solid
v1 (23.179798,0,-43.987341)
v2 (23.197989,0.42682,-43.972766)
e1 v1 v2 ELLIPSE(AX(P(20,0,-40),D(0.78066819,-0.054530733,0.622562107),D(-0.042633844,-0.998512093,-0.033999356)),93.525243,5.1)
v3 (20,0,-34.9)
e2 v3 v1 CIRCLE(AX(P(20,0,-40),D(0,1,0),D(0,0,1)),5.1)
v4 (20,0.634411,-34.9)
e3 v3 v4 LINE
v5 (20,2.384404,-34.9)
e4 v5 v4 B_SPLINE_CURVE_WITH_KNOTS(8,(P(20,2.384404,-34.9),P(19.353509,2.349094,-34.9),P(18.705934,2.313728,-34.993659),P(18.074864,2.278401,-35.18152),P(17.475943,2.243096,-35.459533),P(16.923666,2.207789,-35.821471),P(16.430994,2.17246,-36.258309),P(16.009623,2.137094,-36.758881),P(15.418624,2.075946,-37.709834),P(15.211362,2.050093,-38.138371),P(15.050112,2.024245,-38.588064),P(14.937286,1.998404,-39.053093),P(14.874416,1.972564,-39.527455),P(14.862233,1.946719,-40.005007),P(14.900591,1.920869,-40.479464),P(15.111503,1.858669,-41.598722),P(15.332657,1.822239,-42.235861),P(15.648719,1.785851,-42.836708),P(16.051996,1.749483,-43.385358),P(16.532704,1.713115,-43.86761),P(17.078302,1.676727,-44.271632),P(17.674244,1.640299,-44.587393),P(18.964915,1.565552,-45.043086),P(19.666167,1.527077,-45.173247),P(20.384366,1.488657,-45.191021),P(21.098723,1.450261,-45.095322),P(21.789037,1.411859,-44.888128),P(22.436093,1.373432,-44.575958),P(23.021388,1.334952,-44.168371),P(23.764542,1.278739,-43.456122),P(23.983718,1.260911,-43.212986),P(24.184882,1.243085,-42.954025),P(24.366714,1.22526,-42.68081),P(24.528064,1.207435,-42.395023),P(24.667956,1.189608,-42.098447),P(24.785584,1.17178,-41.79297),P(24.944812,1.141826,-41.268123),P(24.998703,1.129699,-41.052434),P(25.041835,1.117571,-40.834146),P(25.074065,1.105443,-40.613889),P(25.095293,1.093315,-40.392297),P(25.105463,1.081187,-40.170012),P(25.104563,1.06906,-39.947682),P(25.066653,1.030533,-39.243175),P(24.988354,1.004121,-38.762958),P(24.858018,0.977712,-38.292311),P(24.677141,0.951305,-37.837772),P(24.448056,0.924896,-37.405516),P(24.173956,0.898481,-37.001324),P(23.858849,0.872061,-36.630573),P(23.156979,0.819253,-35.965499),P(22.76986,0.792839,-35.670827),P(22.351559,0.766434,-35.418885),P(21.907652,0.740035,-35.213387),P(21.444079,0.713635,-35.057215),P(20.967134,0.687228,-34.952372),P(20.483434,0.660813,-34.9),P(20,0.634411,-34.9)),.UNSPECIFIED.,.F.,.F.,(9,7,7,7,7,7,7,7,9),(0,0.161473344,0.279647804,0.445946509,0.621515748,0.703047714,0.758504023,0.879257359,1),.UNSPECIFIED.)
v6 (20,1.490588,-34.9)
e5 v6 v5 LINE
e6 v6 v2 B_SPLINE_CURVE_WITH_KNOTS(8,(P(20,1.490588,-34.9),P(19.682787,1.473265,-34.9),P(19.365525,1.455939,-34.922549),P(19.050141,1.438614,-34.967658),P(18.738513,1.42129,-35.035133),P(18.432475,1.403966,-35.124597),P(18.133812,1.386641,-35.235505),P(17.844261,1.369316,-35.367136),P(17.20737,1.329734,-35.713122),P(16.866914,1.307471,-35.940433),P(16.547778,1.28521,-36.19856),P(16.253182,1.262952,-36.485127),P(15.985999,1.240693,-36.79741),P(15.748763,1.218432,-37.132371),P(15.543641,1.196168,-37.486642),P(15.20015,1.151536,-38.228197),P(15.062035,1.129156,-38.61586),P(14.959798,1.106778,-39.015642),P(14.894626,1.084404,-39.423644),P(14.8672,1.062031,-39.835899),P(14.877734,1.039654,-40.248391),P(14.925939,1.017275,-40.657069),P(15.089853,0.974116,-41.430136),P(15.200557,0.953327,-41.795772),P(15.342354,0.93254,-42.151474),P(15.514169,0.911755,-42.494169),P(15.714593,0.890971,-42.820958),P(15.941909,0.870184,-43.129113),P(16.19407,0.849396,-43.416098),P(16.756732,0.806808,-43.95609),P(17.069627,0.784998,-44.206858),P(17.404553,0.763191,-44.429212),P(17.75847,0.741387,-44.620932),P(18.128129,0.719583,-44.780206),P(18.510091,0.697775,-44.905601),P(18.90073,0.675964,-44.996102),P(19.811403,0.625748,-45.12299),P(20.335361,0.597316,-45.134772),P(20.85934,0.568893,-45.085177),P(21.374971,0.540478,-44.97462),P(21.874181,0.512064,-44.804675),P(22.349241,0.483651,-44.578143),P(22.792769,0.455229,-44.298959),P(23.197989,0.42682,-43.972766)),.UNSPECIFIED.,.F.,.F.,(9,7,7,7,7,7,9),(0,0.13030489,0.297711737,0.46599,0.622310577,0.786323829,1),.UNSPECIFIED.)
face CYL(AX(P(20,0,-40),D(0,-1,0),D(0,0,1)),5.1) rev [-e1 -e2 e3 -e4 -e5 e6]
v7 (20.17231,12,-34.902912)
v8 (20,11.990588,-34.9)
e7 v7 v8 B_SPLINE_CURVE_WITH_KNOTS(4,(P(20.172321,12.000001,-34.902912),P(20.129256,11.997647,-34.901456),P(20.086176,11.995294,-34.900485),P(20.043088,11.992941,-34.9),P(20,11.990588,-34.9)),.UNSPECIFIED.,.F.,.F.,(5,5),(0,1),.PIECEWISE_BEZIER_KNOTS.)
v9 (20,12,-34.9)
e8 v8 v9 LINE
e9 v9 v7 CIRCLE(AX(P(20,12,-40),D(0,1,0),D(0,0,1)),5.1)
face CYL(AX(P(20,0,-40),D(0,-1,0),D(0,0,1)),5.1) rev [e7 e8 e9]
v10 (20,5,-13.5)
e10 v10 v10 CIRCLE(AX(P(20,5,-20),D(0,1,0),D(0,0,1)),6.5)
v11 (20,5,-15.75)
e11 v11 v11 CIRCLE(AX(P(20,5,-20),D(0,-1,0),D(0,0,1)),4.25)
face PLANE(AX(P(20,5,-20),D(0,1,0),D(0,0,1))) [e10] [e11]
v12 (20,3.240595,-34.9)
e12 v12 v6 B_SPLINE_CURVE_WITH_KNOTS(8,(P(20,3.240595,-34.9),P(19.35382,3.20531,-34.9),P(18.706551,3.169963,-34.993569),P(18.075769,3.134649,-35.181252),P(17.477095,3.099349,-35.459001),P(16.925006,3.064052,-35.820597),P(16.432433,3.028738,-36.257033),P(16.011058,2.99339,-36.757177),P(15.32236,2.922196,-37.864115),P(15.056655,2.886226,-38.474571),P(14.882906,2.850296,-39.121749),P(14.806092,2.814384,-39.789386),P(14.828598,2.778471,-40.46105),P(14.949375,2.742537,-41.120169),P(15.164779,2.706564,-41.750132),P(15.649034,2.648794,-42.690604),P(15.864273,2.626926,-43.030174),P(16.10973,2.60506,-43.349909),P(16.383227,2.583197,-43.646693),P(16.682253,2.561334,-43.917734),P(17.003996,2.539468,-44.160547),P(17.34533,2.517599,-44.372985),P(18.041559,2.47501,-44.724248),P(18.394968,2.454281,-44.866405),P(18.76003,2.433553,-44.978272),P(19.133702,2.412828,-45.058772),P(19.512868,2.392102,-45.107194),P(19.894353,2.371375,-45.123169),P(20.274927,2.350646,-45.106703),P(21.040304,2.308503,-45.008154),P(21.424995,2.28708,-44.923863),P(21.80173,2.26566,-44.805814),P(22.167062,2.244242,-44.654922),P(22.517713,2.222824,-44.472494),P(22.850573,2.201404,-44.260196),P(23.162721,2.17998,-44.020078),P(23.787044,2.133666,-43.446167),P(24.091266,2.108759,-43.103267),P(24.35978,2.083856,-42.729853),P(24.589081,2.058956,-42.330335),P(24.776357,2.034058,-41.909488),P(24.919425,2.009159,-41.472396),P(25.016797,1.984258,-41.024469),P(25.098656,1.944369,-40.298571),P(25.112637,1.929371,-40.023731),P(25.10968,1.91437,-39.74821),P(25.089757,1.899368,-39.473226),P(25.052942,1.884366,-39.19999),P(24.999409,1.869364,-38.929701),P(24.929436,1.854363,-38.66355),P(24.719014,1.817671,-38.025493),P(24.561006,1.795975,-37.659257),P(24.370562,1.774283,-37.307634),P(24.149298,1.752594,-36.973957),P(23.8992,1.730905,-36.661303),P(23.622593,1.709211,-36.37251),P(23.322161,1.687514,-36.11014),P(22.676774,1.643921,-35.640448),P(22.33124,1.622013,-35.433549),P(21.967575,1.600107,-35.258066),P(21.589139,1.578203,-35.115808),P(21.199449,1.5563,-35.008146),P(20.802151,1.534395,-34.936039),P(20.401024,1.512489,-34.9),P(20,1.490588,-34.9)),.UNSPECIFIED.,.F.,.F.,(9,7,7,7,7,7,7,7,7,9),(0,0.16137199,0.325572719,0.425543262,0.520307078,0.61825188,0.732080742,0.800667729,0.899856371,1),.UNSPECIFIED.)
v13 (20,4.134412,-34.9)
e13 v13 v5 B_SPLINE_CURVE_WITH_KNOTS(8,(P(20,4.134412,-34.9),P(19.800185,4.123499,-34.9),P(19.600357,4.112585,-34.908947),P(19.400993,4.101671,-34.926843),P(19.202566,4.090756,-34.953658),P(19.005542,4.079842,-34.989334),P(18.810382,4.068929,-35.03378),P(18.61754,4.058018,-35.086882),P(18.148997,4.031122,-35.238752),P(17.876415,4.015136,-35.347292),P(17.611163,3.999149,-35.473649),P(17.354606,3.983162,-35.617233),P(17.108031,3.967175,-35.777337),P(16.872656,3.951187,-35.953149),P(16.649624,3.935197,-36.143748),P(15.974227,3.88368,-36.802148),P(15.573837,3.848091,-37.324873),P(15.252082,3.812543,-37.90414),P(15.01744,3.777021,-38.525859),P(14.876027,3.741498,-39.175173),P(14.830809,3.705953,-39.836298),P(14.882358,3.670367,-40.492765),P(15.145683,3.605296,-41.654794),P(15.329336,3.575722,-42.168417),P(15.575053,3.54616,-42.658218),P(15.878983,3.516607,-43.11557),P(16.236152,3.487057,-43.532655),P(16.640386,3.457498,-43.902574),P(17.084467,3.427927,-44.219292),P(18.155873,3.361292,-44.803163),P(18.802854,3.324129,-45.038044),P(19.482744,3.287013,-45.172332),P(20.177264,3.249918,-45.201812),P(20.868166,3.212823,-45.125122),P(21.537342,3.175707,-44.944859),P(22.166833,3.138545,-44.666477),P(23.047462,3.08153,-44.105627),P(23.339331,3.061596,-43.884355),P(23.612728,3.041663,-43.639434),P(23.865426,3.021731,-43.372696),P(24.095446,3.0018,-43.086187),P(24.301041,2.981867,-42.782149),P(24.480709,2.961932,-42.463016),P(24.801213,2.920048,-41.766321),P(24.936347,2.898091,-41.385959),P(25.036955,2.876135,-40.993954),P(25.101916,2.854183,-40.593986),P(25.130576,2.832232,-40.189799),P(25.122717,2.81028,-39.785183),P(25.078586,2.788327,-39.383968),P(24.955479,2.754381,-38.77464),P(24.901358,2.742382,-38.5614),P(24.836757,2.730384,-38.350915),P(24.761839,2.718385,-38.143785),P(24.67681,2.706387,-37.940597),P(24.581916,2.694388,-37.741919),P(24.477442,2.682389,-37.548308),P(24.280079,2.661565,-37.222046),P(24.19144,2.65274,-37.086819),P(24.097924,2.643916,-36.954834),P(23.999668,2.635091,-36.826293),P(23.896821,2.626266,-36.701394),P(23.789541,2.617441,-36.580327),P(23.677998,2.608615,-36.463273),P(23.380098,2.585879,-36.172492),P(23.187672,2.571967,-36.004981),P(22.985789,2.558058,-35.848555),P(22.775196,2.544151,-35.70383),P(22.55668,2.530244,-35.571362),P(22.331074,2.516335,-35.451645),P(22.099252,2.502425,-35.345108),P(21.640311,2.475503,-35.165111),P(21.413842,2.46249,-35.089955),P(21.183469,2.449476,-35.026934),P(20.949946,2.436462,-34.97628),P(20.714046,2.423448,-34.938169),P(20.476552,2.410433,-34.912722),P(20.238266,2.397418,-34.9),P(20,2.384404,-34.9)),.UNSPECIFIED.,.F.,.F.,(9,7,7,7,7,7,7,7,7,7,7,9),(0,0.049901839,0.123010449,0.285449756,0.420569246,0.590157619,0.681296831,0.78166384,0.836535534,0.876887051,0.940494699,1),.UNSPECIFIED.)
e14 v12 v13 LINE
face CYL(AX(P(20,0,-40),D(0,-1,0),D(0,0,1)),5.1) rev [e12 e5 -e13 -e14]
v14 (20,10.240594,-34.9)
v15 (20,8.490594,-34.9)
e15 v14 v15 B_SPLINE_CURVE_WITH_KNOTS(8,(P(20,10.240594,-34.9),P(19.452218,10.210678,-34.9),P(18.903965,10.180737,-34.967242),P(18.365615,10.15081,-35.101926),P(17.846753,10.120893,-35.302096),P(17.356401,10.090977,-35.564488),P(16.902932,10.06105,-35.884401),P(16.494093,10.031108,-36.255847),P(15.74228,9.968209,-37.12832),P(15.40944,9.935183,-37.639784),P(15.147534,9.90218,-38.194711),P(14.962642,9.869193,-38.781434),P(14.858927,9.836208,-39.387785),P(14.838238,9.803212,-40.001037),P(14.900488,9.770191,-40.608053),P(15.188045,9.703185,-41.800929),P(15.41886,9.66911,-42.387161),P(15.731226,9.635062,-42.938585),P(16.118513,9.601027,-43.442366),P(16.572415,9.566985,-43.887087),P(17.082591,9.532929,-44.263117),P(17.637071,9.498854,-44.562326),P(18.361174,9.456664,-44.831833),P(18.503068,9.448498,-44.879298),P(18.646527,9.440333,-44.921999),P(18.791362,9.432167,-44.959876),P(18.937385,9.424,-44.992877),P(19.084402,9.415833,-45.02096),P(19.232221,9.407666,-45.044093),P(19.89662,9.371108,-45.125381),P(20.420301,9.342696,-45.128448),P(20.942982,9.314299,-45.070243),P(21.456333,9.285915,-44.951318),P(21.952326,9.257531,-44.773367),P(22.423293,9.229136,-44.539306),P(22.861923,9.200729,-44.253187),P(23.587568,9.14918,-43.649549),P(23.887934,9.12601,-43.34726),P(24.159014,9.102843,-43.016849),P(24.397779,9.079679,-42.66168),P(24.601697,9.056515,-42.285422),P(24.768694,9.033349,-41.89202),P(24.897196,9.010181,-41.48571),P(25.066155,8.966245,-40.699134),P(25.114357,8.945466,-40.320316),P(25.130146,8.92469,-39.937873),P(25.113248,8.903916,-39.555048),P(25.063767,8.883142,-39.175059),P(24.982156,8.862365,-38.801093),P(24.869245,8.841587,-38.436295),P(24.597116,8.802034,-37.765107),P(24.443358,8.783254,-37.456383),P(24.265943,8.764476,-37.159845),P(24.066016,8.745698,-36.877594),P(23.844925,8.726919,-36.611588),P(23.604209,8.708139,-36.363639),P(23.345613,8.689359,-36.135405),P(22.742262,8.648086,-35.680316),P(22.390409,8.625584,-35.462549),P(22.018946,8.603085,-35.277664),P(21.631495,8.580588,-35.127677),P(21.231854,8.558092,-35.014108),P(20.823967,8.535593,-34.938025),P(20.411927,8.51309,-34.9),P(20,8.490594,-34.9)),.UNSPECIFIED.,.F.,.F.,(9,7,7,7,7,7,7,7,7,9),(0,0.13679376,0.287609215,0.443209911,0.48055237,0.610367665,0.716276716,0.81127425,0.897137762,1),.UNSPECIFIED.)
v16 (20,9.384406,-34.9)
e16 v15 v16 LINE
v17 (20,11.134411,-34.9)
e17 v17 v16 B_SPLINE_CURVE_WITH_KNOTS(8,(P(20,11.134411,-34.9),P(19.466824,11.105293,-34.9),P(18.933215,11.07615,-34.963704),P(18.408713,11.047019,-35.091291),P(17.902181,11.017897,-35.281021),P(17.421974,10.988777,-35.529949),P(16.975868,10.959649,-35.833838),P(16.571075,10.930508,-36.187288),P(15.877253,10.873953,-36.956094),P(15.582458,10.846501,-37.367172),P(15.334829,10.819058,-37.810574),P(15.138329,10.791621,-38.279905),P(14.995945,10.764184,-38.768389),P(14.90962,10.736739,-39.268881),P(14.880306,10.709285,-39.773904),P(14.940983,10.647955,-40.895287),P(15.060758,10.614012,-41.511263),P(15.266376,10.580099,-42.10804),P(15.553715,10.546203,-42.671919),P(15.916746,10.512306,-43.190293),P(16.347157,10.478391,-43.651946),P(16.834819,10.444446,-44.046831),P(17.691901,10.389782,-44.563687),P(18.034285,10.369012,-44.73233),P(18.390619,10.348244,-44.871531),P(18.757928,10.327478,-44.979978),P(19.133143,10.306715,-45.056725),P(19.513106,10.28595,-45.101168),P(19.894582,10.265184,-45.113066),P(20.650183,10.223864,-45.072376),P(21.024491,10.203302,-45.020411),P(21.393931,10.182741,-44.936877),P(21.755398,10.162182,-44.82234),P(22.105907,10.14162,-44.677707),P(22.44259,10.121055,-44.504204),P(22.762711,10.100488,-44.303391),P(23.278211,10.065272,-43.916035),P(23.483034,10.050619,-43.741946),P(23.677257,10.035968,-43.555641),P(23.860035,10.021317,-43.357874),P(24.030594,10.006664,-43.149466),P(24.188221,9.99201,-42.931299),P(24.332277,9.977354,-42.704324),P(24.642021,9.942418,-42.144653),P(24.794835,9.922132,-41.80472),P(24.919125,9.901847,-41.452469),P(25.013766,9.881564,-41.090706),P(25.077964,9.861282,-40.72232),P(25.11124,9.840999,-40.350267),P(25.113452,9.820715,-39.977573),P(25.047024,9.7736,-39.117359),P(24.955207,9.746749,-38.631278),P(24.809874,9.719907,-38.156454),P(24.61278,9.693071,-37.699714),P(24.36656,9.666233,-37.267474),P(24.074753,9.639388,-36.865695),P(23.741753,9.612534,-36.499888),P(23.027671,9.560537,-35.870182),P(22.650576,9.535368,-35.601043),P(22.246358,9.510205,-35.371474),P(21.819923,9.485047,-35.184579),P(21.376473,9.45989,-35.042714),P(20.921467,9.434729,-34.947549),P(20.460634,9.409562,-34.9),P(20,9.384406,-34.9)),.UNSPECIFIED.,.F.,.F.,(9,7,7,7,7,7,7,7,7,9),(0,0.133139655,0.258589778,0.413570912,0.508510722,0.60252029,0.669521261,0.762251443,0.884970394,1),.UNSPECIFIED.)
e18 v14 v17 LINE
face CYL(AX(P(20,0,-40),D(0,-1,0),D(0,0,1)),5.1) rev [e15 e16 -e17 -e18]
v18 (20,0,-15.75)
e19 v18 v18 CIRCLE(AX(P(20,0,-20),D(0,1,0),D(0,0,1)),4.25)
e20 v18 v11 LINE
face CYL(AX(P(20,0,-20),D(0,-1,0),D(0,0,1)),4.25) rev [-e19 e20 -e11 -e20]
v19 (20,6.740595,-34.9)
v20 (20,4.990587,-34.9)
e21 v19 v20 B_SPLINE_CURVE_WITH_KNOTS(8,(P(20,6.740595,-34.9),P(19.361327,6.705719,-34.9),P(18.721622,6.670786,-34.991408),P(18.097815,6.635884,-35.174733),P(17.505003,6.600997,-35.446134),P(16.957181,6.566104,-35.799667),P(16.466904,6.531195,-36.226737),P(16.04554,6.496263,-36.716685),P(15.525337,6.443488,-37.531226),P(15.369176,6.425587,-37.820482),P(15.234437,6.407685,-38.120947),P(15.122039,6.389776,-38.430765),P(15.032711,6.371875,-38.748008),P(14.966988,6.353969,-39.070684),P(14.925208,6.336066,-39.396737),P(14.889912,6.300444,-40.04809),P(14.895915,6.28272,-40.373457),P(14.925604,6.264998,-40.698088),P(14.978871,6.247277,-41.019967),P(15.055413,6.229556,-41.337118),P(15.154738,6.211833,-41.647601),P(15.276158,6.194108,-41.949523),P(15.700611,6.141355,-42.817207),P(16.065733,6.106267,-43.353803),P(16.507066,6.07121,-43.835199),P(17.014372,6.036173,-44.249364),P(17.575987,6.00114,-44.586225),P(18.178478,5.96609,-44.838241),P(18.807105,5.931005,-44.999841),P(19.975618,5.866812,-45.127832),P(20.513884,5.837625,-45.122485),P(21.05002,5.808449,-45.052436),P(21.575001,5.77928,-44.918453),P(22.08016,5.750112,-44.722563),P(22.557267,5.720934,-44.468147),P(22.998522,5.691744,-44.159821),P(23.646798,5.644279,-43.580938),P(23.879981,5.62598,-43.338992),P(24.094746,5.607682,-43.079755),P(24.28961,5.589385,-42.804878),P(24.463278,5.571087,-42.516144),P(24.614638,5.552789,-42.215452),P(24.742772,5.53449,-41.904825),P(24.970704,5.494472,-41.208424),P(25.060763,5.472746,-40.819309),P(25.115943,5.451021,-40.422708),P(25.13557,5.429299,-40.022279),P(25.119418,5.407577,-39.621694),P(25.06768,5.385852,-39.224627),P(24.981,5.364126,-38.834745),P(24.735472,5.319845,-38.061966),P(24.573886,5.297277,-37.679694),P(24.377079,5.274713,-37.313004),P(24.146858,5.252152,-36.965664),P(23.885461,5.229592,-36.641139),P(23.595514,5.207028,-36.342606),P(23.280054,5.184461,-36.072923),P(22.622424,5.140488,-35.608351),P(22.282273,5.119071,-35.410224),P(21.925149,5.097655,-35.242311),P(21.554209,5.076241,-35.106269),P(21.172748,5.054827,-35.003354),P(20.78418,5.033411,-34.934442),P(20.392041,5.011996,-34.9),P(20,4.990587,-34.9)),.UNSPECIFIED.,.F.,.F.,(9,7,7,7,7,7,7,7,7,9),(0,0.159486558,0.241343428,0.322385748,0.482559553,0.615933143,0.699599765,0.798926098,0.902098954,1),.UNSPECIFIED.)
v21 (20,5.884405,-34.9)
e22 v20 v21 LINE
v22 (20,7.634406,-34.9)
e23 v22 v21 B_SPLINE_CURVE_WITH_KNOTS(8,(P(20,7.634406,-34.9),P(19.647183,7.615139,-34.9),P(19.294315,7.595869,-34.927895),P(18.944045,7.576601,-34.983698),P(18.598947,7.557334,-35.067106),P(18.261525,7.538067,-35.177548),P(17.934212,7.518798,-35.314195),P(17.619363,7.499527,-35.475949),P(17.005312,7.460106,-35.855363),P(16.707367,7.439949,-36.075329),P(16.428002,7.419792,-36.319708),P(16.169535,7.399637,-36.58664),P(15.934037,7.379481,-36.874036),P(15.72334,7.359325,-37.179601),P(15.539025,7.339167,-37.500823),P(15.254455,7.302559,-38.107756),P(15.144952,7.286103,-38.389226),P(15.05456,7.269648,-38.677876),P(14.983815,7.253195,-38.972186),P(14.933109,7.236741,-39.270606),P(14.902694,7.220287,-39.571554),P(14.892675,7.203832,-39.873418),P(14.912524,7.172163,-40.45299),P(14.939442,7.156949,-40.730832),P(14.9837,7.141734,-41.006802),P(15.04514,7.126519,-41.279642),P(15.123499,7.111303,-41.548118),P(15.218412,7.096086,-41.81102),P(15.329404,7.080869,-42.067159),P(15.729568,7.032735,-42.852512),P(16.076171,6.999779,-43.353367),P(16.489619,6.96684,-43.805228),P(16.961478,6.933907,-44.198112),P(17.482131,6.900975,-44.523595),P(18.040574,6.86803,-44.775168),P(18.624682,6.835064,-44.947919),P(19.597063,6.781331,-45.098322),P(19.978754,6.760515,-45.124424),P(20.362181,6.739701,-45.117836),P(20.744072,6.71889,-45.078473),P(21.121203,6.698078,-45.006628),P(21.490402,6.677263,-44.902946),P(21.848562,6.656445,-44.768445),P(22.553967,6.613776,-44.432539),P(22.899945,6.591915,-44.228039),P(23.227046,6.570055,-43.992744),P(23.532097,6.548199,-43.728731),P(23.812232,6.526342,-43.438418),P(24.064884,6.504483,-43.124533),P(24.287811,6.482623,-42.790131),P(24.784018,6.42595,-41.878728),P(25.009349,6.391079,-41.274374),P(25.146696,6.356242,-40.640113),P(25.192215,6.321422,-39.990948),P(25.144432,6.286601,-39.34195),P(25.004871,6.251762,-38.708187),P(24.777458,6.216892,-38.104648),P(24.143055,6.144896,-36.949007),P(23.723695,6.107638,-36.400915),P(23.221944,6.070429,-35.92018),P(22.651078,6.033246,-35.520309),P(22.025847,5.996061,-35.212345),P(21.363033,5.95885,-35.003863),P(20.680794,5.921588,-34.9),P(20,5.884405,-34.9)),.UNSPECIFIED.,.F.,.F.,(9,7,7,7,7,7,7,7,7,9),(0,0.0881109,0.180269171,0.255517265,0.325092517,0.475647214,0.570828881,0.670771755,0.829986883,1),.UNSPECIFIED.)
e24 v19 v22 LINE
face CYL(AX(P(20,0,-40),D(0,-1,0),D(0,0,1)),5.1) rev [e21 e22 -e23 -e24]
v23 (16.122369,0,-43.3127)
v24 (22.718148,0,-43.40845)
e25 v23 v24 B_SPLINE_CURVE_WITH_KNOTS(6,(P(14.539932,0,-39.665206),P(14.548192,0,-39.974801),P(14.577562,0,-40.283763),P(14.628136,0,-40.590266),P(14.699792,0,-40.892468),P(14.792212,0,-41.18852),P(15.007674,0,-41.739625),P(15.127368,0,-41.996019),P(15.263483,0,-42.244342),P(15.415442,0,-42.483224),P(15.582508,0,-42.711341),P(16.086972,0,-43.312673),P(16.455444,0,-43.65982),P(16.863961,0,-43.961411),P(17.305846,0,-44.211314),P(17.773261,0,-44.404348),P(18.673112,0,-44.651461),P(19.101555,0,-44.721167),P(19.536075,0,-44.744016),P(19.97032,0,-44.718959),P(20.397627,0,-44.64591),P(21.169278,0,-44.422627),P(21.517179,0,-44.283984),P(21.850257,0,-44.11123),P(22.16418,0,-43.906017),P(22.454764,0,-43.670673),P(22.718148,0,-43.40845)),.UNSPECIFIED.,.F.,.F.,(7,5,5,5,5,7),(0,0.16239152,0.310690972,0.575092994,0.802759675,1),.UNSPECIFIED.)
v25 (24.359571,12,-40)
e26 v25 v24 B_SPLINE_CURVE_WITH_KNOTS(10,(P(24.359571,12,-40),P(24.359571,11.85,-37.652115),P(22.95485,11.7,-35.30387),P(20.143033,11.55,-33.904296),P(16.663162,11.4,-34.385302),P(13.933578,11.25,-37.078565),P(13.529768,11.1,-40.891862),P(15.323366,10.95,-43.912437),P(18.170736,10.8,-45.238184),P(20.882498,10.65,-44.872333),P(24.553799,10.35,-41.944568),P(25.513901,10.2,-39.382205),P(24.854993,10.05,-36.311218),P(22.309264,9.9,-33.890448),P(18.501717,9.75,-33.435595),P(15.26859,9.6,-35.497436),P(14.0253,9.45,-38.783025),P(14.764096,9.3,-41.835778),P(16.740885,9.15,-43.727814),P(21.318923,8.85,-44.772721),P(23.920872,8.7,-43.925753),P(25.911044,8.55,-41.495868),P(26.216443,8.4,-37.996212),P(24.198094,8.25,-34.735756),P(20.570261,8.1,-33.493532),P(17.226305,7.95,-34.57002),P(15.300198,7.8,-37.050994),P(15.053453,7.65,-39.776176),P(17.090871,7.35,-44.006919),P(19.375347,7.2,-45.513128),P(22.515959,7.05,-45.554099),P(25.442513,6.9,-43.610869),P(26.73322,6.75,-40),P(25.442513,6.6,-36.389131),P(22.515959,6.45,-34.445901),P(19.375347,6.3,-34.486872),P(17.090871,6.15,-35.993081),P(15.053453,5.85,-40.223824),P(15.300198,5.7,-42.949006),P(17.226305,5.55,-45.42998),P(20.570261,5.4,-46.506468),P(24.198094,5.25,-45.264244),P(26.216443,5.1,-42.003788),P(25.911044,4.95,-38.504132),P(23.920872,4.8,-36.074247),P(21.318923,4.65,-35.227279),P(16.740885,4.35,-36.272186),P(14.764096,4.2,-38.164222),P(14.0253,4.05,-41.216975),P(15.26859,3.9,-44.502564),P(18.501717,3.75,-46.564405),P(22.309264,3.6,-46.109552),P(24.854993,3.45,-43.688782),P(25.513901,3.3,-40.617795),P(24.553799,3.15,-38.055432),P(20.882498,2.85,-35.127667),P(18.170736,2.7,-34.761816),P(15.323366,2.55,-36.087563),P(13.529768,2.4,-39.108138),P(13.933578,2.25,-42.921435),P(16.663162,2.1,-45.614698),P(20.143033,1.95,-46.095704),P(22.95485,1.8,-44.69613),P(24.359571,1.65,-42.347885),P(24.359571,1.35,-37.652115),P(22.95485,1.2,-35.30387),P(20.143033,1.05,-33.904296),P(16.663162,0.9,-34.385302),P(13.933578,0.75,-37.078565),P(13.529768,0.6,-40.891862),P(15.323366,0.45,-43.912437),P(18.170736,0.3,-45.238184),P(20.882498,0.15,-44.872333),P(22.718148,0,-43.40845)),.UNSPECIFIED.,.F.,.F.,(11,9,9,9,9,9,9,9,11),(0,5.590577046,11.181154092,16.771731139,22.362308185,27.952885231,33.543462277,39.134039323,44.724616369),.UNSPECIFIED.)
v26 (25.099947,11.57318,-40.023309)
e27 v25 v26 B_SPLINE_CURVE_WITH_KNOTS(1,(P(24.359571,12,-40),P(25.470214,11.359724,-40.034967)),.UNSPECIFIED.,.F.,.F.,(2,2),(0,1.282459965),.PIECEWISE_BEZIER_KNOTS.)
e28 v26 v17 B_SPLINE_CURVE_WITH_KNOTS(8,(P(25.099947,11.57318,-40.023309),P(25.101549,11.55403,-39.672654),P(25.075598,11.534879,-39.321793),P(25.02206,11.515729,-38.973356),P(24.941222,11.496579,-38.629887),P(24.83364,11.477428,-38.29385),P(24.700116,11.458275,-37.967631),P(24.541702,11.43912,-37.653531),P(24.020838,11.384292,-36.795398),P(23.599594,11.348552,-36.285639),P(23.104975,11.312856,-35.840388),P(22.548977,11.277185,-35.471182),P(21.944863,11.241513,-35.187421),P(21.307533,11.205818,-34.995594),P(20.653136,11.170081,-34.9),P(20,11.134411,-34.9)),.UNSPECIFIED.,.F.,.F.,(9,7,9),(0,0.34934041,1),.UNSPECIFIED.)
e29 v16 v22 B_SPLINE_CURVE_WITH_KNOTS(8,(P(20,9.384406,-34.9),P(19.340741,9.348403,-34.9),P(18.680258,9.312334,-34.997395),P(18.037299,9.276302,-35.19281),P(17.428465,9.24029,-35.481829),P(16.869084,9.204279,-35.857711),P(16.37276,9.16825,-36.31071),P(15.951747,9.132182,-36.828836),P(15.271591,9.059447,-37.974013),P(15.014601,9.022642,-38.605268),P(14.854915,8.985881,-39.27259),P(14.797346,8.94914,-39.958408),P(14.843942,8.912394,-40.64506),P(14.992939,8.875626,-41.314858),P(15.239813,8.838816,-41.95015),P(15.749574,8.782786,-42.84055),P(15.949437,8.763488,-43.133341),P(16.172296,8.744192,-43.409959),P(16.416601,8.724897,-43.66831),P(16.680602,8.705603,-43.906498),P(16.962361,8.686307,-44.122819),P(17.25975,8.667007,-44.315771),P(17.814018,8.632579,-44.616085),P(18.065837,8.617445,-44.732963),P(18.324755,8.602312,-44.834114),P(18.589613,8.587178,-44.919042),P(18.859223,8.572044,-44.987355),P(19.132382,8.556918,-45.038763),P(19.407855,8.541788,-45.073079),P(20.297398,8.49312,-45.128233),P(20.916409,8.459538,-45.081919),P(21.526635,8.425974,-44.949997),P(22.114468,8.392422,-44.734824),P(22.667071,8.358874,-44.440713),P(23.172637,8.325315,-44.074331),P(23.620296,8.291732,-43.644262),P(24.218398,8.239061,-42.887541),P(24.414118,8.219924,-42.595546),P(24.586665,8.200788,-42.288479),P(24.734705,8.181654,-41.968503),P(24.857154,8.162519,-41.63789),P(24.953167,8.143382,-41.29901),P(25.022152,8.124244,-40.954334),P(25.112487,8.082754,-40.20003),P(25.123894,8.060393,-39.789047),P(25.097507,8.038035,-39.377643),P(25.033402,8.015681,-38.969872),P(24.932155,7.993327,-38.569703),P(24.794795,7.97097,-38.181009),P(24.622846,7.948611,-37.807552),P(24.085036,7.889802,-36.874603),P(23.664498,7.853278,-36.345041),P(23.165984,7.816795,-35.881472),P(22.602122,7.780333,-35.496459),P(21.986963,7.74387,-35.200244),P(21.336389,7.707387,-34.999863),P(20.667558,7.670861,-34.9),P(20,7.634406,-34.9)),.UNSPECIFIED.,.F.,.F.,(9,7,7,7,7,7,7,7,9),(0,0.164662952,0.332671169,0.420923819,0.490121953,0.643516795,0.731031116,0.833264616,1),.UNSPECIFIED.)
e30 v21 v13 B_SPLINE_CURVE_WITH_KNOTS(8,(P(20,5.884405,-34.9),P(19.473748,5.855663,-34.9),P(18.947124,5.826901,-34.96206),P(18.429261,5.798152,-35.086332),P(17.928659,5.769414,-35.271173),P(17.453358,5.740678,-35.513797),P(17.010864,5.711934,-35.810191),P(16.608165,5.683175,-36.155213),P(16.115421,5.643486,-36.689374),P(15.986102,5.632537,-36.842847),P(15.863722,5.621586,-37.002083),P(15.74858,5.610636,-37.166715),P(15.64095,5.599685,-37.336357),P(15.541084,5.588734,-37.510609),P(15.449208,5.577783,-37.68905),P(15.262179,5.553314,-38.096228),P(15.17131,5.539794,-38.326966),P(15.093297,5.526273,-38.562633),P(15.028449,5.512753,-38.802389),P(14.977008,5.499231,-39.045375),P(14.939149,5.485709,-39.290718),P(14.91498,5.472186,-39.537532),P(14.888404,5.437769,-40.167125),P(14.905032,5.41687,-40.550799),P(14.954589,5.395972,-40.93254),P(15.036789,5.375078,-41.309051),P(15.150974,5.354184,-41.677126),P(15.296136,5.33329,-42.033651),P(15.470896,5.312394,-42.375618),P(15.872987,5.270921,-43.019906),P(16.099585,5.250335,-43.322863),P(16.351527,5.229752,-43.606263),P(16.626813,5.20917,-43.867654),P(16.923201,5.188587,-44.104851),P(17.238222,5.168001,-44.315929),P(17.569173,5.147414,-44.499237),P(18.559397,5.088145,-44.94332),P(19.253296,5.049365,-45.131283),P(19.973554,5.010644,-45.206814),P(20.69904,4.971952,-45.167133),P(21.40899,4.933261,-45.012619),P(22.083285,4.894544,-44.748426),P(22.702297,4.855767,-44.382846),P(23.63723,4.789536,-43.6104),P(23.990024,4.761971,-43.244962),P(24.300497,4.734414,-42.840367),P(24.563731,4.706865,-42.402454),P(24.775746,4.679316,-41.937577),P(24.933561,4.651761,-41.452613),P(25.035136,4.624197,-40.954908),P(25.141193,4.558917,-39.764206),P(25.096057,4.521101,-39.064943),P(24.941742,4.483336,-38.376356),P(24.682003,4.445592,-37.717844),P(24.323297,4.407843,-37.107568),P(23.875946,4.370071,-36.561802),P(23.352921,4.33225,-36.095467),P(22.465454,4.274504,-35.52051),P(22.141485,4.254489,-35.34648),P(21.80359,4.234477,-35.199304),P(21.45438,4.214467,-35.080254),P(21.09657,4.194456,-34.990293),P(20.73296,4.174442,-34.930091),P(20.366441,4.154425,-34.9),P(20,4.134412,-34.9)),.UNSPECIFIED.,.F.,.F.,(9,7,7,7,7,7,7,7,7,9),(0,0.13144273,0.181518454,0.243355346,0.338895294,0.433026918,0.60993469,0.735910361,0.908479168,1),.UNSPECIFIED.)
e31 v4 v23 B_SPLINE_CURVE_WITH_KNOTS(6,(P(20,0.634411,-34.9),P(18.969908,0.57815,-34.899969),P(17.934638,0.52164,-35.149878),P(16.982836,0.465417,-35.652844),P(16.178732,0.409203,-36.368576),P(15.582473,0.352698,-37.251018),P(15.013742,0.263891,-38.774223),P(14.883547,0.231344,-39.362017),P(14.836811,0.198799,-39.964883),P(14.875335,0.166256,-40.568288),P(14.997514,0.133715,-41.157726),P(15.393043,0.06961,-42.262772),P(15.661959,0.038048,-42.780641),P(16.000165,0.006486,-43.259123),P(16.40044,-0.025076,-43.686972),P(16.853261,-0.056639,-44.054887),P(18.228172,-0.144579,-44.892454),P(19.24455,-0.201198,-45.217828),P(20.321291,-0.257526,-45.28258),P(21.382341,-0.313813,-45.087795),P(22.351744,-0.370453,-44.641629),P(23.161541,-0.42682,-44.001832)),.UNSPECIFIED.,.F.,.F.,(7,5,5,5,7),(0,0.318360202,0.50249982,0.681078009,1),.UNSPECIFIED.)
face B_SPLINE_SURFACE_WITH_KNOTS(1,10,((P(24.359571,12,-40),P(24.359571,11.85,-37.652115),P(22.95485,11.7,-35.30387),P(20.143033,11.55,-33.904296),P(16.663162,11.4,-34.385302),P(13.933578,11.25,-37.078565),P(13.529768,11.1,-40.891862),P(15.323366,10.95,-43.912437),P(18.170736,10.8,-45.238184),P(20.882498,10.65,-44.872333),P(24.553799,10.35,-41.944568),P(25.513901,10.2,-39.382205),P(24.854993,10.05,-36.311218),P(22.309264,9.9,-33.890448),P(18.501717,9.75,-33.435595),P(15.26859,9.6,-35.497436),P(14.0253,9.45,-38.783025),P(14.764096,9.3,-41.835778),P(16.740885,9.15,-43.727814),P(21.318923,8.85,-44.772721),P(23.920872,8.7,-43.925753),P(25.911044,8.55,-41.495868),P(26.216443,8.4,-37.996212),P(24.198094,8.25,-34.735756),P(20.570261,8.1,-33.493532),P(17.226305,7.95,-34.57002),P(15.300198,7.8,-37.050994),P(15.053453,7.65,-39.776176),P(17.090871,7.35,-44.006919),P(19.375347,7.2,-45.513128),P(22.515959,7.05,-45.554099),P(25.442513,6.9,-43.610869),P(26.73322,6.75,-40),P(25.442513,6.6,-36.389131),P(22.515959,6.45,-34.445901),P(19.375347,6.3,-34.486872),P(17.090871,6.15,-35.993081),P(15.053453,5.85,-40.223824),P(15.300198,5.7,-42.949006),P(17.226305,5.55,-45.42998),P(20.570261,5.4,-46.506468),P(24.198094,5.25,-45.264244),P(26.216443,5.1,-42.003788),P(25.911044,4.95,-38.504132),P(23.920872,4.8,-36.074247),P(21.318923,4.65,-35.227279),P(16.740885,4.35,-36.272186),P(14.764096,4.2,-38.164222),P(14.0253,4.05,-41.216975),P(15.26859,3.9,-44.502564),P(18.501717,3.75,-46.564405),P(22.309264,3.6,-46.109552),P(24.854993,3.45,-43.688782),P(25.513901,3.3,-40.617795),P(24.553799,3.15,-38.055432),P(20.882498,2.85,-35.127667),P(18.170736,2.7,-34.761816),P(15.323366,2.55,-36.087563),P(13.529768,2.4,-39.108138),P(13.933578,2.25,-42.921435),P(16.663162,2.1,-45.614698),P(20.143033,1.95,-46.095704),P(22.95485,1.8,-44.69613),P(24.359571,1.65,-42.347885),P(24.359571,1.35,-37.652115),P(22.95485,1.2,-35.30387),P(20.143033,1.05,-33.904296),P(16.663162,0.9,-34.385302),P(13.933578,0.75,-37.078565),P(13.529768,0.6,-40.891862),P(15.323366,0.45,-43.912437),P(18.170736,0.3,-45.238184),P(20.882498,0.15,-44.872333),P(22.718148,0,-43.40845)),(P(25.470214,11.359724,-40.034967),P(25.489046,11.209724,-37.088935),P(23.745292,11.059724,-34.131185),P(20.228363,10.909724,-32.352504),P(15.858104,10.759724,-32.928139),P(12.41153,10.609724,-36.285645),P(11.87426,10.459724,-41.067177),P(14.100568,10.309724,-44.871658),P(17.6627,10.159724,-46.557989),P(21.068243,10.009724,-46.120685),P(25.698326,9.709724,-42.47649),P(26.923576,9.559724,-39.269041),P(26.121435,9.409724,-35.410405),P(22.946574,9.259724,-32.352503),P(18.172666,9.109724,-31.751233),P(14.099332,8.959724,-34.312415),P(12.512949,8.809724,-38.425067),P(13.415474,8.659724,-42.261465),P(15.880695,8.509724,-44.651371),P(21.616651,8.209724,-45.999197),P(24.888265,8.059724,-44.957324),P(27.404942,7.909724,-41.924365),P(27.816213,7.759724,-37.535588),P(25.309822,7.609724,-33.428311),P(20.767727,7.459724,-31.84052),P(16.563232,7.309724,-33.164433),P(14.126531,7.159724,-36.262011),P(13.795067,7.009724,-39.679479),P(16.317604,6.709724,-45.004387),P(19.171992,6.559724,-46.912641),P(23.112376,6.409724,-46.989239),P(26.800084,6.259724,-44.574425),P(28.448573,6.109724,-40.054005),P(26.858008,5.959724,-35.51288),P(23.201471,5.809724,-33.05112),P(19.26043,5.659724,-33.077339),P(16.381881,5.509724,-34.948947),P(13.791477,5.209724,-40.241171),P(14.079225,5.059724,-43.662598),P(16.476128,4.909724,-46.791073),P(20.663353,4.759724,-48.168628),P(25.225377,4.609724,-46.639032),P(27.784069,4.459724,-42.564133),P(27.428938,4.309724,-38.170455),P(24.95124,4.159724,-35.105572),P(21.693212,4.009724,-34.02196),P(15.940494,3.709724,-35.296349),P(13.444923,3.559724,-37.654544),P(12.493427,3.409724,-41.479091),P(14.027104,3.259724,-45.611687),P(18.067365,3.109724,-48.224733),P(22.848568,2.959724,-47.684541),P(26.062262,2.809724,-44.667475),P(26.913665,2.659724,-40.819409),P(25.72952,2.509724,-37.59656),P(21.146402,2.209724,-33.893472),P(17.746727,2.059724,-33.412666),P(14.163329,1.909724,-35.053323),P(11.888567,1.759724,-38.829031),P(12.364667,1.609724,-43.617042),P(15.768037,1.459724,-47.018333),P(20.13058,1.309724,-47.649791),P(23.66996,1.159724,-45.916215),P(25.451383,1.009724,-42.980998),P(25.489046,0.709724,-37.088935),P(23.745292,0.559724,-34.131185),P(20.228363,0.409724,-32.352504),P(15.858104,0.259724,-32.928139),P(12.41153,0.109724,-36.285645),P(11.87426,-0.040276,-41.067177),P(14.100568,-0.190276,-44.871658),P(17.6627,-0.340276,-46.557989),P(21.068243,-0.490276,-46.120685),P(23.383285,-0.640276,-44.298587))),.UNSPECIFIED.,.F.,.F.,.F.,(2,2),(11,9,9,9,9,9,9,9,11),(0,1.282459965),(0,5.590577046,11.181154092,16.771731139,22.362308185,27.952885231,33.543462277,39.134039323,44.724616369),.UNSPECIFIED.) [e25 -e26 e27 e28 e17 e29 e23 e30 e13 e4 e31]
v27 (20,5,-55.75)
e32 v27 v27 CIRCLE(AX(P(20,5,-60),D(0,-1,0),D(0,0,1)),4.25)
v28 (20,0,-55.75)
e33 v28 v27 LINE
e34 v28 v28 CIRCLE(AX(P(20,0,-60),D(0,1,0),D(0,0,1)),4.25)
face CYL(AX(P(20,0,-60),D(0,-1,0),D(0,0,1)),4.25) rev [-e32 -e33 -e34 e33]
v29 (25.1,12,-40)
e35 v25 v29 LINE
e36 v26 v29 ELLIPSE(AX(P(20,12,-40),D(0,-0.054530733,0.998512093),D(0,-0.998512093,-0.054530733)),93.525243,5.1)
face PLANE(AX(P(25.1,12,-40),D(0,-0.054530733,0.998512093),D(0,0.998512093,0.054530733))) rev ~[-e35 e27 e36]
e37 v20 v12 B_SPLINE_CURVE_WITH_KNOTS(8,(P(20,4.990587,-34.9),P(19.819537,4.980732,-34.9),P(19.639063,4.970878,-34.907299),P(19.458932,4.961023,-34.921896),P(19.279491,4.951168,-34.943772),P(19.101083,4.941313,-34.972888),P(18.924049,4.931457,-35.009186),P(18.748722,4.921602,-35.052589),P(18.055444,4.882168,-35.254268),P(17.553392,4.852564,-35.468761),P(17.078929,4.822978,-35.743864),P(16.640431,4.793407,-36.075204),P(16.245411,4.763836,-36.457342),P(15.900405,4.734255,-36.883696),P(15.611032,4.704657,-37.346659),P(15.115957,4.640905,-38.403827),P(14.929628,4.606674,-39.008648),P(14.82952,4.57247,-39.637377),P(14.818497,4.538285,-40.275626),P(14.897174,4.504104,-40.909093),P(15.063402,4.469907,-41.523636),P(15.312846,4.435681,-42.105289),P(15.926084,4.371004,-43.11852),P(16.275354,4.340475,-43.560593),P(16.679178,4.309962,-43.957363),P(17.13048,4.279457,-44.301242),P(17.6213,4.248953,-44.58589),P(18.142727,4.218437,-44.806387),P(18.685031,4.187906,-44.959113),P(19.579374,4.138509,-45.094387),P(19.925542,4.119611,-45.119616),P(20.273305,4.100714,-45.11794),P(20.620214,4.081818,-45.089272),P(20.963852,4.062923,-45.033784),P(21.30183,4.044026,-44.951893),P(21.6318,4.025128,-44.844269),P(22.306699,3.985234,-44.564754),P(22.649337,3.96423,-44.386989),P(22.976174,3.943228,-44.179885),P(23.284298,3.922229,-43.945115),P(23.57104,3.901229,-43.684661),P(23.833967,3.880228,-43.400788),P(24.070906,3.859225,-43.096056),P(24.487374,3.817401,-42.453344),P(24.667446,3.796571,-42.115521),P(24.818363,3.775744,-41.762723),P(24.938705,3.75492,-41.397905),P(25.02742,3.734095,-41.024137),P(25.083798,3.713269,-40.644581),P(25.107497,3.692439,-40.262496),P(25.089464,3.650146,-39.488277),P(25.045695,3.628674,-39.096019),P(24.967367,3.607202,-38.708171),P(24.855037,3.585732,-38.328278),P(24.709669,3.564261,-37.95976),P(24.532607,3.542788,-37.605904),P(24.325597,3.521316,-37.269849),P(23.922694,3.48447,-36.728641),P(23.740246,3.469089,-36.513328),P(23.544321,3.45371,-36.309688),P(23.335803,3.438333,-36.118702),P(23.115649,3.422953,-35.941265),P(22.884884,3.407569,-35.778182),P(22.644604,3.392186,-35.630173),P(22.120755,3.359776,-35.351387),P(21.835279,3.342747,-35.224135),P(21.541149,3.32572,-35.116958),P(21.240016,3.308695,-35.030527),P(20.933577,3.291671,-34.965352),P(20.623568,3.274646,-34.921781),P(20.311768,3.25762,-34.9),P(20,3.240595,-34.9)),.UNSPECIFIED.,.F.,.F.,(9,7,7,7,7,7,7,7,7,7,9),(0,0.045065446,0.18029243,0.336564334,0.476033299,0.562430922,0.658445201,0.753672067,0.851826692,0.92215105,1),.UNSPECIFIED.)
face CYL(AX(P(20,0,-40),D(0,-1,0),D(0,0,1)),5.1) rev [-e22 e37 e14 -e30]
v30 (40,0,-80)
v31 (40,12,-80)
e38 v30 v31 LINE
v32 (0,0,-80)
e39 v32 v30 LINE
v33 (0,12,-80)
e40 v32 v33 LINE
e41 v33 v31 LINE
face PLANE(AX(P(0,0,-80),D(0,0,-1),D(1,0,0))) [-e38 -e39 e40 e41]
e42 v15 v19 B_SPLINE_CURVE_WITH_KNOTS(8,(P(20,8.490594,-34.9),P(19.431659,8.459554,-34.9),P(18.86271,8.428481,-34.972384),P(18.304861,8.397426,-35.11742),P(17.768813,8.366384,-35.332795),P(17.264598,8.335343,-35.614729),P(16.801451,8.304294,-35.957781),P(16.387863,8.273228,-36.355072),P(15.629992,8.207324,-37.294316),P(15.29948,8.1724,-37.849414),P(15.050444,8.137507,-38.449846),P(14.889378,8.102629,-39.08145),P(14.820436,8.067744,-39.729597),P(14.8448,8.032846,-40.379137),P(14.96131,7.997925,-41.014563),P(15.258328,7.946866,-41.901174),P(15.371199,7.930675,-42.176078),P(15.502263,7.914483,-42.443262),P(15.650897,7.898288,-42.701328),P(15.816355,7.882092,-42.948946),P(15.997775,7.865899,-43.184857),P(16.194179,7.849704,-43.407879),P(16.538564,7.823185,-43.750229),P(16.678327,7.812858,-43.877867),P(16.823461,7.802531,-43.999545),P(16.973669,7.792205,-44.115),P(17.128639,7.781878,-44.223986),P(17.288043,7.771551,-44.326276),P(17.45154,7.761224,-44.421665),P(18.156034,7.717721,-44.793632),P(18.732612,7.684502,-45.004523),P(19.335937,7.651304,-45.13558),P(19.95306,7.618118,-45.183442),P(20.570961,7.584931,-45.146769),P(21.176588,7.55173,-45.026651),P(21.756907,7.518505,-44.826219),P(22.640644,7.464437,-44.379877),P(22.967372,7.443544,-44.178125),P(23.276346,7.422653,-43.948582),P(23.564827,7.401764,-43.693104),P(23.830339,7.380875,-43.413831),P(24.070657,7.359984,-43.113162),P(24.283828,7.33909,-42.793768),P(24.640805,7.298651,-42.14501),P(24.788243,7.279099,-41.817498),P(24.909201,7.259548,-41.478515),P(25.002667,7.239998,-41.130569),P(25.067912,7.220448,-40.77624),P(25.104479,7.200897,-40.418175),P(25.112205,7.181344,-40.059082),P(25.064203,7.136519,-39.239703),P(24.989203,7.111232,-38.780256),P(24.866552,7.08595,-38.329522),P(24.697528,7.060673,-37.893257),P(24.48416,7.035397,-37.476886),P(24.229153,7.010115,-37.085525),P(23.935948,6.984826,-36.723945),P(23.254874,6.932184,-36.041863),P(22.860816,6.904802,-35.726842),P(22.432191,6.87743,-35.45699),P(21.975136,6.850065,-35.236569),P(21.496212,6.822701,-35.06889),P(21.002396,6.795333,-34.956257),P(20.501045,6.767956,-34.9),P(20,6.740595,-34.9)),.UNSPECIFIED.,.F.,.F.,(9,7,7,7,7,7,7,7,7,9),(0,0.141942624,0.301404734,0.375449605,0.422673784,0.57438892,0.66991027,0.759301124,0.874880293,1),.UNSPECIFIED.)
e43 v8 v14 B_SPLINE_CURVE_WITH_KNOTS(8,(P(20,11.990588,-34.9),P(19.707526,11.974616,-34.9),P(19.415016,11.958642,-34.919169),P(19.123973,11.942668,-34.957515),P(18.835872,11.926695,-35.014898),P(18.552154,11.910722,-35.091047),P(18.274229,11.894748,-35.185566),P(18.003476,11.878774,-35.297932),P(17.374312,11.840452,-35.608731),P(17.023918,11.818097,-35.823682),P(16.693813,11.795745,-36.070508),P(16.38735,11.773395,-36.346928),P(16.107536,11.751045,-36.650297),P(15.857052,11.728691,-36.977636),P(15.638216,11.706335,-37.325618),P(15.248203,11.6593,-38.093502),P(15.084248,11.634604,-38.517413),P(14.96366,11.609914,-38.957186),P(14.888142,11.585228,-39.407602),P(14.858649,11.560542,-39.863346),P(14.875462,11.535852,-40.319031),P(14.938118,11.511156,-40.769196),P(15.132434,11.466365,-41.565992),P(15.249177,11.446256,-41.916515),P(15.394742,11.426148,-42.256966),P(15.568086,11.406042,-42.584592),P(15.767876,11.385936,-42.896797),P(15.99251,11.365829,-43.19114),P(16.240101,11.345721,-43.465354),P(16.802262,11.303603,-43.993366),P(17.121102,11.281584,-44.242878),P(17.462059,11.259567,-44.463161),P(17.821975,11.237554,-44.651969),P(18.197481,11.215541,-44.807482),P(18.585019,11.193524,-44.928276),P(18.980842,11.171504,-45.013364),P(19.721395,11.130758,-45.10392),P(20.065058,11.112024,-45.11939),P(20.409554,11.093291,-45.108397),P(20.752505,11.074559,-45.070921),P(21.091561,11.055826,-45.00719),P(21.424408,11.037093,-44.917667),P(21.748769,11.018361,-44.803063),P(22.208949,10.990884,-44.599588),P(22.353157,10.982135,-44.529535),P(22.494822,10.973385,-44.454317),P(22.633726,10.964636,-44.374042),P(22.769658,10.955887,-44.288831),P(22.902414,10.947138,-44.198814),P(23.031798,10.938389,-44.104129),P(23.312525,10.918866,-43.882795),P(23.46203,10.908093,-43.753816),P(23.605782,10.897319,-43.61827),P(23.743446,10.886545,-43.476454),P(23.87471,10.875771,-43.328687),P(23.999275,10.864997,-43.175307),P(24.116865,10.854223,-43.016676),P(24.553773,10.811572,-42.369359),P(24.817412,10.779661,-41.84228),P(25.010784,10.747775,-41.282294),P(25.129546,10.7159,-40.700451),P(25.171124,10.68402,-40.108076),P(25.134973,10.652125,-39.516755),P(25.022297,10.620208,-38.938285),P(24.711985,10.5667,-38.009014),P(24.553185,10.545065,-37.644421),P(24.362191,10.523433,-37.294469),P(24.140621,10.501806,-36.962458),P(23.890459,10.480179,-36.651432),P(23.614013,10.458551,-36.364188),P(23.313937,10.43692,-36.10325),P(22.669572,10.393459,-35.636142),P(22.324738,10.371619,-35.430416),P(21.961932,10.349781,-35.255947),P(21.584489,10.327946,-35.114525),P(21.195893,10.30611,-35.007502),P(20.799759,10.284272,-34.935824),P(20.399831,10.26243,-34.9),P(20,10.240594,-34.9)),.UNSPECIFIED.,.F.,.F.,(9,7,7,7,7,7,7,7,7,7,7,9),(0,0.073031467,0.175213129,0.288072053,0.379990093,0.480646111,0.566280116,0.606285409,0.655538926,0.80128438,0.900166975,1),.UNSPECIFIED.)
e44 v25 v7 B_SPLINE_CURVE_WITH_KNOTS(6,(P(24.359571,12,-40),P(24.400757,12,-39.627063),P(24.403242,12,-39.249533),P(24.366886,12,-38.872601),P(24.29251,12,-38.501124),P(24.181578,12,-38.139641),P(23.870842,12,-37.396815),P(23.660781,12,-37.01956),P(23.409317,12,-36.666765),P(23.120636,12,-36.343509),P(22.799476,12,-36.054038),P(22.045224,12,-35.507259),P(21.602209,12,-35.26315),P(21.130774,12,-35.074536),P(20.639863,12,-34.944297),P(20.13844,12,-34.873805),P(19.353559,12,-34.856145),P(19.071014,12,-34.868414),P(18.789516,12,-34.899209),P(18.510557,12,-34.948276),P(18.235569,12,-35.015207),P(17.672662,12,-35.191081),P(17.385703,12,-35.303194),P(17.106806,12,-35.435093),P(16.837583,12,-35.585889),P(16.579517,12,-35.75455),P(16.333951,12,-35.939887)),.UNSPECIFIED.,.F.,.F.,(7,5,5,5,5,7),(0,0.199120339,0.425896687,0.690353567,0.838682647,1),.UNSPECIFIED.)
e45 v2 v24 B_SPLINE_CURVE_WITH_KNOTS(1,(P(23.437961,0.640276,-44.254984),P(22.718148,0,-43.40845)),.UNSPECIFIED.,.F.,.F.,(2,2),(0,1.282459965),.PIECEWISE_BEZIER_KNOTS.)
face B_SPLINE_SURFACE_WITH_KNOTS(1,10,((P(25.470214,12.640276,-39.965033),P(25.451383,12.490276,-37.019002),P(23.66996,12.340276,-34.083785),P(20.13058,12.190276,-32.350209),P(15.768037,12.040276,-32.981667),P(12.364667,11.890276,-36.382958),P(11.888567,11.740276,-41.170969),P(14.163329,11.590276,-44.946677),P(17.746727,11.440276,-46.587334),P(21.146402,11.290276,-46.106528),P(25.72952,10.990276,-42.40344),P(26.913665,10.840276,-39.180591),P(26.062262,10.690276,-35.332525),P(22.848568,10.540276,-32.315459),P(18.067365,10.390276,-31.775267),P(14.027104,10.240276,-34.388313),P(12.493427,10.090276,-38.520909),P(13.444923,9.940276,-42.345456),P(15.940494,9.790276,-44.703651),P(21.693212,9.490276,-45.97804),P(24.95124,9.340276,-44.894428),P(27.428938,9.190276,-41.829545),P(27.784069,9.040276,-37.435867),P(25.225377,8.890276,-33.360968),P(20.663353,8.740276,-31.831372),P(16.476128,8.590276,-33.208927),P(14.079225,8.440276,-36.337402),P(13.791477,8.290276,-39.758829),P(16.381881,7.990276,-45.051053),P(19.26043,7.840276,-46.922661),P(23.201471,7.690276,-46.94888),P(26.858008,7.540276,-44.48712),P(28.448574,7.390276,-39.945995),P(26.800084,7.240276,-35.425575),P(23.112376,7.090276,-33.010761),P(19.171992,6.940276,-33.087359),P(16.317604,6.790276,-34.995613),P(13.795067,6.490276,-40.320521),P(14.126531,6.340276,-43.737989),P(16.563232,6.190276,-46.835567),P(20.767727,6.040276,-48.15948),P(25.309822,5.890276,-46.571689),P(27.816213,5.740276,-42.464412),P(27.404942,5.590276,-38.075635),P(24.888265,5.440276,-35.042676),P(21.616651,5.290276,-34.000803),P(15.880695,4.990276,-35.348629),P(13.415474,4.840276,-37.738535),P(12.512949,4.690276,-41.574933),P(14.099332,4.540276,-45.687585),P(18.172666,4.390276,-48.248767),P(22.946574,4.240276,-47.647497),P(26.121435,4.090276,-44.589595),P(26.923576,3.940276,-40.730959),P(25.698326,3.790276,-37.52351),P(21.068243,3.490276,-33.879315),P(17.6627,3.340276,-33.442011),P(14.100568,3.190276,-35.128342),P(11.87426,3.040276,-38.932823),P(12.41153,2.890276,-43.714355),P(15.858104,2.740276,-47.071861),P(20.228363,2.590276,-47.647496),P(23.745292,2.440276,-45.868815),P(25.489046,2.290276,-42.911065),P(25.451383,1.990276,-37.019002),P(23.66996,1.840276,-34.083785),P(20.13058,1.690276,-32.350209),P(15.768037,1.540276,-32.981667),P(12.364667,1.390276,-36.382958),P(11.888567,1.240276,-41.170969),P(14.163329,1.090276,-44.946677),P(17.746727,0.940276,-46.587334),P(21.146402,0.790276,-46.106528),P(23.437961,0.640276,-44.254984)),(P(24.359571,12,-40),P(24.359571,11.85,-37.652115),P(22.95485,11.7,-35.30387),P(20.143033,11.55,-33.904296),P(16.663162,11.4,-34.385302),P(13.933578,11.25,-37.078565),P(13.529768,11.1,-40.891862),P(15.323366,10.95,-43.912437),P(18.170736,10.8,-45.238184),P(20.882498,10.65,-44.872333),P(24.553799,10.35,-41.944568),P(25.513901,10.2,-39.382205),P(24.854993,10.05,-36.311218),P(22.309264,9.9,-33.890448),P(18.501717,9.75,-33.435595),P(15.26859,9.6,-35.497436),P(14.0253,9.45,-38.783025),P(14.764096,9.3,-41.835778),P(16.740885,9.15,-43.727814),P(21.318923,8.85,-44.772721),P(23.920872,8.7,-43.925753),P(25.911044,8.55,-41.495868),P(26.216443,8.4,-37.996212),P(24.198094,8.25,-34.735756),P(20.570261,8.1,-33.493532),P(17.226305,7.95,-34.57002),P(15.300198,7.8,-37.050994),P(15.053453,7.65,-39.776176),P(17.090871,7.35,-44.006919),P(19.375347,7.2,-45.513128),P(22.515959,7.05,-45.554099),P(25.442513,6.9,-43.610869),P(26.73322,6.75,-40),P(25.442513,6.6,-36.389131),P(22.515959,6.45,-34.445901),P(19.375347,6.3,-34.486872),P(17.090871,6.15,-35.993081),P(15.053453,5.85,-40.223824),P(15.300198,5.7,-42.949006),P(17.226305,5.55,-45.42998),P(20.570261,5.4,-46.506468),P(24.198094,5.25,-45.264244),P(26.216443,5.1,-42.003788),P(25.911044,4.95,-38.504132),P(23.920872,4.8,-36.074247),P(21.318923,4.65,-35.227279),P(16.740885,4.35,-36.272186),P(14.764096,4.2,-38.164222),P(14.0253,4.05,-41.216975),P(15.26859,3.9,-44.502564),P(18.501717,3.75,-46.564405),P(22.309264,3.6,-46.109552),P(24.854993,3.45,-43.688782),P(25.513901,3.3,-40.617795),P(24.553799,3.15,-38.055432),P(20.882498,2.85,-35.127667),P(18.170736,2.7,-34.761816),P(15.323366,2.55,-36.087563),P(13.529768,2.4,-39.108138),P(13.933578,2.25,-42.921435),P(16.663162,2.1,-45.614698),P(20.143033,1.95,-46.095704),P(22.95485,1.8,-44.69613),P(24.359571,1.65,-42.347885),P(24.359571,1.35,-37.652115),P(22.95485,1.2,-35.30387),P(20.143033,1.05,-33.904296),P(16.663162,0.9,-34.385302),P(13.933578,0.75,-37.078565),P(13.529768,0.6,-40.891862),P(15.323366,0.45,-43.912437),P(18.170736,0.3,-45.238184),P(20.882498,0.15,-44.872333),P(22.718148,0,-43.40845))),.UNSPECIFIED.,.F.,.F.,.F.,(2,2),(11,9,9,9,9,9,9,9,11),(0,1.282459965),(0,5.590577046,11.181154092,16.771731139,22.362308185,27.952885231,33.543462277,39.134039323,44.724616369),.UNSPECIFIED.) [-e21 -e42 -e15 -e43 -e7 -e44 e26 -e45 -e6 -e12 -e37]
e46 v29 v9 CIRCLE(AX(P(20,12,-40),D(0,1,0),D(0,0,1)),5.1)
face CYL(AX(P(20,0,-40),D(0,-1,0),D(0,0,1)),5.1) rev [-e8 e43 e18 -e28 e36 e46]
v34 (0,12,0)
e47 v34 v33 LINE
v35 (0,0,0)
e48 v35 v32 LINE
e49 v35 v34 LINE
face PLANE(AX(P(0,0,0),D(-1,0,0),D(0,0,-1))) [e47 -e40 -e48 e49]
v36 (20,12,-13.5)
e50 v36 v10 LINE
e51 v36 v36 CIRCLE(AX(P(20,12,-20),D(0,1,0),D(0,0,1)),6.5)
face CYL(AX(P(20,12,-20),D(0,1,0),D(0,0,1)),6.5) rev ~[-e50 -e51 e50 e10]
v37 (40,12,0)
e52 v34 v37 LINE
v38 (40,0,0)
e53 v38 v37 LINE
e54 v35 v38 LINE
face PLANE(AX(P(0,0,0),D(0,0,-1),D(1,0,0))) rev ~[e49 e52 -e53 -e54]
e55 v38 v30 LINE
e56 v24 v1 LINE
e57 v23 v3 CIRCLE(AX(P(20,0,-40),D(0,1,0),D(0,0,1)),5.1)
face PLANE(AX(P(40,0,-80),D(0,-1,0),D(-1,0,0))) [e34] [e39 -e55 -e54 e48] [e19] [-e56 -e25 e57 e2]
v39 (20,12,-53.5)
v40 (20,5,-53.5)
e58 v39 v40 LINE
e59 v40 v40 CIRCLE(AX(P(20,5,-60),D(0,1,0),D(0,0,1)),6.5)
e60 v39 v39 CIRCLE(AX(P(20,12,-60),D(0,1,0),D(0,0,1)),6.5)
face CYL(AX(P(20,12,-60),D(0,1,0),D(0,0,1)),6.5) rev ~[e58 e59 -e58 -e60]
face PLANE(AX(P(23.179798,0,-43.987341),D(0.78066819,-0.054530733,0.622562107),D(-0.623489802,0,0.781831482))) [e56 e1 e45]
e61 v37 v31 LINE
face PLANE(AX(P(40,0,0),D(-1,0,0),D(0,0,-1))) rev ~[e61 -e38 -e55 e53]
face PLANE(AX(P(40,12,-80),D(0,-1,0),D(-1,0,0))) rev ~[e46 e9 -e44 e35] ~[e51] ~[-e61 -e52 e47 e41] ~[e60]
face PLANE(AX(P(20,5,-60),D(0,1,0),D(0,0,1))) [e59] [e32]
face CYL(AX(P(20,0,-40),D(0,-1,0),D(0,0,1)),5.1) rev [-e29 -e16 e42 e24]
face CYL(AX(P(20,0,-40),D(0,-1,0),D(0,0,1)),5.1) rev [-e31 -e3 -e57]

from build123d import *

# Parameters (mm, degrees)
SKETCH_1_W          = 40
SKETCH_1_H          = 80
SKETCH_1_R          = 4.25
SKETCH_1_R_2        = 5.1
EXTRUDE_1_DEPTH     = 12
SKETCH_3_R          = 6.5
CUT_EXTRUDE_1_DEPTH = 7
SWEEP_1_PITCH       = 1.75
SWEEP_1_HEIGHT      = 12
SWEEP_1_RADIUS      = 5.1
SWEEP_1_START_ANGLE = 90
SKETCH_6_W          = 42.021889548
SKETCH_6_H          = 2.845778449
SKETCH_6_W_2        = 42.914668854
SKETCH_6_H_2        = 10.152042119
CUT_EXTRUDE_2_DEPTH = 91.331481783


with BuildPart() as part:
    # 草图1 → 凸台-拉伸1 (new body)
    with BuildSketch(Plane(origin=(0, 0, 0), x_dir=(1, 0, 0), z_dir=(0, 1, 0))):
        with Locations((20, 40)):
            Rectangle(SKETCH_1_W, SKETCH_1_H)
        with Locations(Location((20, 60, 0), (0, 0, 270))):
            Circle(SKETCH_1_R, mode=Mode.SUBTRACT)
        with Locations(Location((20, 20, 0), (0, 0, 270))):
            Circle(SKETCH_1_R, mode=Mode.SUBTRACT)
        with Locations(Location((20, 40, 0), (0, 0, 270))):
            Circle(SKETCH_1_R_2, mode=Mode.SUBTRACT)
    extrude(amount=EXTRUDE_1_DEPTH)

    # 草图3 → 切除-拉伸1 (cut)
    with BuildSketch(Plane(origin=(0, 12, 0), x_dir=(1, 0, 0), z_dir=(0, 1, 0))):
        with Locations(Location((20, 20, 0), (0, 0, 270))):
            Circle(SKETCH_3_R)
        with Locations(Location((20, 60, 0), (0, 0, 270))):
            Circle(SKETCH_3_R)
    extrude(amount=-CUT_EXTRUDE_1_DEPTH, mode=Mode.SUBTRACT)

    # 扫描1: sweep along a helix
    with BuildLine() as sweep_1_path:
        add(Helix(SWEEP_1_PITCH, SWEEP_1_HEIGHT, SWEEP_1_RADIUS, center=(20, 12, -40), direction=(0, -1, 0), mode=Mode.PRIVATE).rotate(Axis((20, 12, -40), (0, -1, 0)), SWEEP_1_START_ANGLE))
    # 草图5 → 扫描1 (sweep)
    with BuildSketch(Plane(origin=(25.1, 12, -40), x_dir=(1, 0, 0), z_dir=(5.189082450239955e-15, -0.054530732695540304, 0.9985120926617203))):
        Polygon((-0.740428606, 0), (0.370214303, -0.641229983), (0.370214303, 0.641229983), align=None)
    sweep(path=sweep_1_path.line, is_frenet=True)

    # 草图6 → 切除-拉伸2 (cut, through all)
    with BuildSketch(Plane(origin=(0, 0, -80), x_dir=(-1, 0, 0), z_dir=(0, 0, -1))):
        with Locations((-18.989055226, 13.422889225)):
            Rectangle(SKETCH_6_W, SKETCH_6_H)
        with Locations((-18.542665573, -5.07602106)):
            Rectangle(SKETCH_6_W_2, SKETCH_6_H_2)
    extrude(amount=-CUT_EXTRUDE_2_DEPTH, mode=Mode.SUBTRACT)


solid = part.part
